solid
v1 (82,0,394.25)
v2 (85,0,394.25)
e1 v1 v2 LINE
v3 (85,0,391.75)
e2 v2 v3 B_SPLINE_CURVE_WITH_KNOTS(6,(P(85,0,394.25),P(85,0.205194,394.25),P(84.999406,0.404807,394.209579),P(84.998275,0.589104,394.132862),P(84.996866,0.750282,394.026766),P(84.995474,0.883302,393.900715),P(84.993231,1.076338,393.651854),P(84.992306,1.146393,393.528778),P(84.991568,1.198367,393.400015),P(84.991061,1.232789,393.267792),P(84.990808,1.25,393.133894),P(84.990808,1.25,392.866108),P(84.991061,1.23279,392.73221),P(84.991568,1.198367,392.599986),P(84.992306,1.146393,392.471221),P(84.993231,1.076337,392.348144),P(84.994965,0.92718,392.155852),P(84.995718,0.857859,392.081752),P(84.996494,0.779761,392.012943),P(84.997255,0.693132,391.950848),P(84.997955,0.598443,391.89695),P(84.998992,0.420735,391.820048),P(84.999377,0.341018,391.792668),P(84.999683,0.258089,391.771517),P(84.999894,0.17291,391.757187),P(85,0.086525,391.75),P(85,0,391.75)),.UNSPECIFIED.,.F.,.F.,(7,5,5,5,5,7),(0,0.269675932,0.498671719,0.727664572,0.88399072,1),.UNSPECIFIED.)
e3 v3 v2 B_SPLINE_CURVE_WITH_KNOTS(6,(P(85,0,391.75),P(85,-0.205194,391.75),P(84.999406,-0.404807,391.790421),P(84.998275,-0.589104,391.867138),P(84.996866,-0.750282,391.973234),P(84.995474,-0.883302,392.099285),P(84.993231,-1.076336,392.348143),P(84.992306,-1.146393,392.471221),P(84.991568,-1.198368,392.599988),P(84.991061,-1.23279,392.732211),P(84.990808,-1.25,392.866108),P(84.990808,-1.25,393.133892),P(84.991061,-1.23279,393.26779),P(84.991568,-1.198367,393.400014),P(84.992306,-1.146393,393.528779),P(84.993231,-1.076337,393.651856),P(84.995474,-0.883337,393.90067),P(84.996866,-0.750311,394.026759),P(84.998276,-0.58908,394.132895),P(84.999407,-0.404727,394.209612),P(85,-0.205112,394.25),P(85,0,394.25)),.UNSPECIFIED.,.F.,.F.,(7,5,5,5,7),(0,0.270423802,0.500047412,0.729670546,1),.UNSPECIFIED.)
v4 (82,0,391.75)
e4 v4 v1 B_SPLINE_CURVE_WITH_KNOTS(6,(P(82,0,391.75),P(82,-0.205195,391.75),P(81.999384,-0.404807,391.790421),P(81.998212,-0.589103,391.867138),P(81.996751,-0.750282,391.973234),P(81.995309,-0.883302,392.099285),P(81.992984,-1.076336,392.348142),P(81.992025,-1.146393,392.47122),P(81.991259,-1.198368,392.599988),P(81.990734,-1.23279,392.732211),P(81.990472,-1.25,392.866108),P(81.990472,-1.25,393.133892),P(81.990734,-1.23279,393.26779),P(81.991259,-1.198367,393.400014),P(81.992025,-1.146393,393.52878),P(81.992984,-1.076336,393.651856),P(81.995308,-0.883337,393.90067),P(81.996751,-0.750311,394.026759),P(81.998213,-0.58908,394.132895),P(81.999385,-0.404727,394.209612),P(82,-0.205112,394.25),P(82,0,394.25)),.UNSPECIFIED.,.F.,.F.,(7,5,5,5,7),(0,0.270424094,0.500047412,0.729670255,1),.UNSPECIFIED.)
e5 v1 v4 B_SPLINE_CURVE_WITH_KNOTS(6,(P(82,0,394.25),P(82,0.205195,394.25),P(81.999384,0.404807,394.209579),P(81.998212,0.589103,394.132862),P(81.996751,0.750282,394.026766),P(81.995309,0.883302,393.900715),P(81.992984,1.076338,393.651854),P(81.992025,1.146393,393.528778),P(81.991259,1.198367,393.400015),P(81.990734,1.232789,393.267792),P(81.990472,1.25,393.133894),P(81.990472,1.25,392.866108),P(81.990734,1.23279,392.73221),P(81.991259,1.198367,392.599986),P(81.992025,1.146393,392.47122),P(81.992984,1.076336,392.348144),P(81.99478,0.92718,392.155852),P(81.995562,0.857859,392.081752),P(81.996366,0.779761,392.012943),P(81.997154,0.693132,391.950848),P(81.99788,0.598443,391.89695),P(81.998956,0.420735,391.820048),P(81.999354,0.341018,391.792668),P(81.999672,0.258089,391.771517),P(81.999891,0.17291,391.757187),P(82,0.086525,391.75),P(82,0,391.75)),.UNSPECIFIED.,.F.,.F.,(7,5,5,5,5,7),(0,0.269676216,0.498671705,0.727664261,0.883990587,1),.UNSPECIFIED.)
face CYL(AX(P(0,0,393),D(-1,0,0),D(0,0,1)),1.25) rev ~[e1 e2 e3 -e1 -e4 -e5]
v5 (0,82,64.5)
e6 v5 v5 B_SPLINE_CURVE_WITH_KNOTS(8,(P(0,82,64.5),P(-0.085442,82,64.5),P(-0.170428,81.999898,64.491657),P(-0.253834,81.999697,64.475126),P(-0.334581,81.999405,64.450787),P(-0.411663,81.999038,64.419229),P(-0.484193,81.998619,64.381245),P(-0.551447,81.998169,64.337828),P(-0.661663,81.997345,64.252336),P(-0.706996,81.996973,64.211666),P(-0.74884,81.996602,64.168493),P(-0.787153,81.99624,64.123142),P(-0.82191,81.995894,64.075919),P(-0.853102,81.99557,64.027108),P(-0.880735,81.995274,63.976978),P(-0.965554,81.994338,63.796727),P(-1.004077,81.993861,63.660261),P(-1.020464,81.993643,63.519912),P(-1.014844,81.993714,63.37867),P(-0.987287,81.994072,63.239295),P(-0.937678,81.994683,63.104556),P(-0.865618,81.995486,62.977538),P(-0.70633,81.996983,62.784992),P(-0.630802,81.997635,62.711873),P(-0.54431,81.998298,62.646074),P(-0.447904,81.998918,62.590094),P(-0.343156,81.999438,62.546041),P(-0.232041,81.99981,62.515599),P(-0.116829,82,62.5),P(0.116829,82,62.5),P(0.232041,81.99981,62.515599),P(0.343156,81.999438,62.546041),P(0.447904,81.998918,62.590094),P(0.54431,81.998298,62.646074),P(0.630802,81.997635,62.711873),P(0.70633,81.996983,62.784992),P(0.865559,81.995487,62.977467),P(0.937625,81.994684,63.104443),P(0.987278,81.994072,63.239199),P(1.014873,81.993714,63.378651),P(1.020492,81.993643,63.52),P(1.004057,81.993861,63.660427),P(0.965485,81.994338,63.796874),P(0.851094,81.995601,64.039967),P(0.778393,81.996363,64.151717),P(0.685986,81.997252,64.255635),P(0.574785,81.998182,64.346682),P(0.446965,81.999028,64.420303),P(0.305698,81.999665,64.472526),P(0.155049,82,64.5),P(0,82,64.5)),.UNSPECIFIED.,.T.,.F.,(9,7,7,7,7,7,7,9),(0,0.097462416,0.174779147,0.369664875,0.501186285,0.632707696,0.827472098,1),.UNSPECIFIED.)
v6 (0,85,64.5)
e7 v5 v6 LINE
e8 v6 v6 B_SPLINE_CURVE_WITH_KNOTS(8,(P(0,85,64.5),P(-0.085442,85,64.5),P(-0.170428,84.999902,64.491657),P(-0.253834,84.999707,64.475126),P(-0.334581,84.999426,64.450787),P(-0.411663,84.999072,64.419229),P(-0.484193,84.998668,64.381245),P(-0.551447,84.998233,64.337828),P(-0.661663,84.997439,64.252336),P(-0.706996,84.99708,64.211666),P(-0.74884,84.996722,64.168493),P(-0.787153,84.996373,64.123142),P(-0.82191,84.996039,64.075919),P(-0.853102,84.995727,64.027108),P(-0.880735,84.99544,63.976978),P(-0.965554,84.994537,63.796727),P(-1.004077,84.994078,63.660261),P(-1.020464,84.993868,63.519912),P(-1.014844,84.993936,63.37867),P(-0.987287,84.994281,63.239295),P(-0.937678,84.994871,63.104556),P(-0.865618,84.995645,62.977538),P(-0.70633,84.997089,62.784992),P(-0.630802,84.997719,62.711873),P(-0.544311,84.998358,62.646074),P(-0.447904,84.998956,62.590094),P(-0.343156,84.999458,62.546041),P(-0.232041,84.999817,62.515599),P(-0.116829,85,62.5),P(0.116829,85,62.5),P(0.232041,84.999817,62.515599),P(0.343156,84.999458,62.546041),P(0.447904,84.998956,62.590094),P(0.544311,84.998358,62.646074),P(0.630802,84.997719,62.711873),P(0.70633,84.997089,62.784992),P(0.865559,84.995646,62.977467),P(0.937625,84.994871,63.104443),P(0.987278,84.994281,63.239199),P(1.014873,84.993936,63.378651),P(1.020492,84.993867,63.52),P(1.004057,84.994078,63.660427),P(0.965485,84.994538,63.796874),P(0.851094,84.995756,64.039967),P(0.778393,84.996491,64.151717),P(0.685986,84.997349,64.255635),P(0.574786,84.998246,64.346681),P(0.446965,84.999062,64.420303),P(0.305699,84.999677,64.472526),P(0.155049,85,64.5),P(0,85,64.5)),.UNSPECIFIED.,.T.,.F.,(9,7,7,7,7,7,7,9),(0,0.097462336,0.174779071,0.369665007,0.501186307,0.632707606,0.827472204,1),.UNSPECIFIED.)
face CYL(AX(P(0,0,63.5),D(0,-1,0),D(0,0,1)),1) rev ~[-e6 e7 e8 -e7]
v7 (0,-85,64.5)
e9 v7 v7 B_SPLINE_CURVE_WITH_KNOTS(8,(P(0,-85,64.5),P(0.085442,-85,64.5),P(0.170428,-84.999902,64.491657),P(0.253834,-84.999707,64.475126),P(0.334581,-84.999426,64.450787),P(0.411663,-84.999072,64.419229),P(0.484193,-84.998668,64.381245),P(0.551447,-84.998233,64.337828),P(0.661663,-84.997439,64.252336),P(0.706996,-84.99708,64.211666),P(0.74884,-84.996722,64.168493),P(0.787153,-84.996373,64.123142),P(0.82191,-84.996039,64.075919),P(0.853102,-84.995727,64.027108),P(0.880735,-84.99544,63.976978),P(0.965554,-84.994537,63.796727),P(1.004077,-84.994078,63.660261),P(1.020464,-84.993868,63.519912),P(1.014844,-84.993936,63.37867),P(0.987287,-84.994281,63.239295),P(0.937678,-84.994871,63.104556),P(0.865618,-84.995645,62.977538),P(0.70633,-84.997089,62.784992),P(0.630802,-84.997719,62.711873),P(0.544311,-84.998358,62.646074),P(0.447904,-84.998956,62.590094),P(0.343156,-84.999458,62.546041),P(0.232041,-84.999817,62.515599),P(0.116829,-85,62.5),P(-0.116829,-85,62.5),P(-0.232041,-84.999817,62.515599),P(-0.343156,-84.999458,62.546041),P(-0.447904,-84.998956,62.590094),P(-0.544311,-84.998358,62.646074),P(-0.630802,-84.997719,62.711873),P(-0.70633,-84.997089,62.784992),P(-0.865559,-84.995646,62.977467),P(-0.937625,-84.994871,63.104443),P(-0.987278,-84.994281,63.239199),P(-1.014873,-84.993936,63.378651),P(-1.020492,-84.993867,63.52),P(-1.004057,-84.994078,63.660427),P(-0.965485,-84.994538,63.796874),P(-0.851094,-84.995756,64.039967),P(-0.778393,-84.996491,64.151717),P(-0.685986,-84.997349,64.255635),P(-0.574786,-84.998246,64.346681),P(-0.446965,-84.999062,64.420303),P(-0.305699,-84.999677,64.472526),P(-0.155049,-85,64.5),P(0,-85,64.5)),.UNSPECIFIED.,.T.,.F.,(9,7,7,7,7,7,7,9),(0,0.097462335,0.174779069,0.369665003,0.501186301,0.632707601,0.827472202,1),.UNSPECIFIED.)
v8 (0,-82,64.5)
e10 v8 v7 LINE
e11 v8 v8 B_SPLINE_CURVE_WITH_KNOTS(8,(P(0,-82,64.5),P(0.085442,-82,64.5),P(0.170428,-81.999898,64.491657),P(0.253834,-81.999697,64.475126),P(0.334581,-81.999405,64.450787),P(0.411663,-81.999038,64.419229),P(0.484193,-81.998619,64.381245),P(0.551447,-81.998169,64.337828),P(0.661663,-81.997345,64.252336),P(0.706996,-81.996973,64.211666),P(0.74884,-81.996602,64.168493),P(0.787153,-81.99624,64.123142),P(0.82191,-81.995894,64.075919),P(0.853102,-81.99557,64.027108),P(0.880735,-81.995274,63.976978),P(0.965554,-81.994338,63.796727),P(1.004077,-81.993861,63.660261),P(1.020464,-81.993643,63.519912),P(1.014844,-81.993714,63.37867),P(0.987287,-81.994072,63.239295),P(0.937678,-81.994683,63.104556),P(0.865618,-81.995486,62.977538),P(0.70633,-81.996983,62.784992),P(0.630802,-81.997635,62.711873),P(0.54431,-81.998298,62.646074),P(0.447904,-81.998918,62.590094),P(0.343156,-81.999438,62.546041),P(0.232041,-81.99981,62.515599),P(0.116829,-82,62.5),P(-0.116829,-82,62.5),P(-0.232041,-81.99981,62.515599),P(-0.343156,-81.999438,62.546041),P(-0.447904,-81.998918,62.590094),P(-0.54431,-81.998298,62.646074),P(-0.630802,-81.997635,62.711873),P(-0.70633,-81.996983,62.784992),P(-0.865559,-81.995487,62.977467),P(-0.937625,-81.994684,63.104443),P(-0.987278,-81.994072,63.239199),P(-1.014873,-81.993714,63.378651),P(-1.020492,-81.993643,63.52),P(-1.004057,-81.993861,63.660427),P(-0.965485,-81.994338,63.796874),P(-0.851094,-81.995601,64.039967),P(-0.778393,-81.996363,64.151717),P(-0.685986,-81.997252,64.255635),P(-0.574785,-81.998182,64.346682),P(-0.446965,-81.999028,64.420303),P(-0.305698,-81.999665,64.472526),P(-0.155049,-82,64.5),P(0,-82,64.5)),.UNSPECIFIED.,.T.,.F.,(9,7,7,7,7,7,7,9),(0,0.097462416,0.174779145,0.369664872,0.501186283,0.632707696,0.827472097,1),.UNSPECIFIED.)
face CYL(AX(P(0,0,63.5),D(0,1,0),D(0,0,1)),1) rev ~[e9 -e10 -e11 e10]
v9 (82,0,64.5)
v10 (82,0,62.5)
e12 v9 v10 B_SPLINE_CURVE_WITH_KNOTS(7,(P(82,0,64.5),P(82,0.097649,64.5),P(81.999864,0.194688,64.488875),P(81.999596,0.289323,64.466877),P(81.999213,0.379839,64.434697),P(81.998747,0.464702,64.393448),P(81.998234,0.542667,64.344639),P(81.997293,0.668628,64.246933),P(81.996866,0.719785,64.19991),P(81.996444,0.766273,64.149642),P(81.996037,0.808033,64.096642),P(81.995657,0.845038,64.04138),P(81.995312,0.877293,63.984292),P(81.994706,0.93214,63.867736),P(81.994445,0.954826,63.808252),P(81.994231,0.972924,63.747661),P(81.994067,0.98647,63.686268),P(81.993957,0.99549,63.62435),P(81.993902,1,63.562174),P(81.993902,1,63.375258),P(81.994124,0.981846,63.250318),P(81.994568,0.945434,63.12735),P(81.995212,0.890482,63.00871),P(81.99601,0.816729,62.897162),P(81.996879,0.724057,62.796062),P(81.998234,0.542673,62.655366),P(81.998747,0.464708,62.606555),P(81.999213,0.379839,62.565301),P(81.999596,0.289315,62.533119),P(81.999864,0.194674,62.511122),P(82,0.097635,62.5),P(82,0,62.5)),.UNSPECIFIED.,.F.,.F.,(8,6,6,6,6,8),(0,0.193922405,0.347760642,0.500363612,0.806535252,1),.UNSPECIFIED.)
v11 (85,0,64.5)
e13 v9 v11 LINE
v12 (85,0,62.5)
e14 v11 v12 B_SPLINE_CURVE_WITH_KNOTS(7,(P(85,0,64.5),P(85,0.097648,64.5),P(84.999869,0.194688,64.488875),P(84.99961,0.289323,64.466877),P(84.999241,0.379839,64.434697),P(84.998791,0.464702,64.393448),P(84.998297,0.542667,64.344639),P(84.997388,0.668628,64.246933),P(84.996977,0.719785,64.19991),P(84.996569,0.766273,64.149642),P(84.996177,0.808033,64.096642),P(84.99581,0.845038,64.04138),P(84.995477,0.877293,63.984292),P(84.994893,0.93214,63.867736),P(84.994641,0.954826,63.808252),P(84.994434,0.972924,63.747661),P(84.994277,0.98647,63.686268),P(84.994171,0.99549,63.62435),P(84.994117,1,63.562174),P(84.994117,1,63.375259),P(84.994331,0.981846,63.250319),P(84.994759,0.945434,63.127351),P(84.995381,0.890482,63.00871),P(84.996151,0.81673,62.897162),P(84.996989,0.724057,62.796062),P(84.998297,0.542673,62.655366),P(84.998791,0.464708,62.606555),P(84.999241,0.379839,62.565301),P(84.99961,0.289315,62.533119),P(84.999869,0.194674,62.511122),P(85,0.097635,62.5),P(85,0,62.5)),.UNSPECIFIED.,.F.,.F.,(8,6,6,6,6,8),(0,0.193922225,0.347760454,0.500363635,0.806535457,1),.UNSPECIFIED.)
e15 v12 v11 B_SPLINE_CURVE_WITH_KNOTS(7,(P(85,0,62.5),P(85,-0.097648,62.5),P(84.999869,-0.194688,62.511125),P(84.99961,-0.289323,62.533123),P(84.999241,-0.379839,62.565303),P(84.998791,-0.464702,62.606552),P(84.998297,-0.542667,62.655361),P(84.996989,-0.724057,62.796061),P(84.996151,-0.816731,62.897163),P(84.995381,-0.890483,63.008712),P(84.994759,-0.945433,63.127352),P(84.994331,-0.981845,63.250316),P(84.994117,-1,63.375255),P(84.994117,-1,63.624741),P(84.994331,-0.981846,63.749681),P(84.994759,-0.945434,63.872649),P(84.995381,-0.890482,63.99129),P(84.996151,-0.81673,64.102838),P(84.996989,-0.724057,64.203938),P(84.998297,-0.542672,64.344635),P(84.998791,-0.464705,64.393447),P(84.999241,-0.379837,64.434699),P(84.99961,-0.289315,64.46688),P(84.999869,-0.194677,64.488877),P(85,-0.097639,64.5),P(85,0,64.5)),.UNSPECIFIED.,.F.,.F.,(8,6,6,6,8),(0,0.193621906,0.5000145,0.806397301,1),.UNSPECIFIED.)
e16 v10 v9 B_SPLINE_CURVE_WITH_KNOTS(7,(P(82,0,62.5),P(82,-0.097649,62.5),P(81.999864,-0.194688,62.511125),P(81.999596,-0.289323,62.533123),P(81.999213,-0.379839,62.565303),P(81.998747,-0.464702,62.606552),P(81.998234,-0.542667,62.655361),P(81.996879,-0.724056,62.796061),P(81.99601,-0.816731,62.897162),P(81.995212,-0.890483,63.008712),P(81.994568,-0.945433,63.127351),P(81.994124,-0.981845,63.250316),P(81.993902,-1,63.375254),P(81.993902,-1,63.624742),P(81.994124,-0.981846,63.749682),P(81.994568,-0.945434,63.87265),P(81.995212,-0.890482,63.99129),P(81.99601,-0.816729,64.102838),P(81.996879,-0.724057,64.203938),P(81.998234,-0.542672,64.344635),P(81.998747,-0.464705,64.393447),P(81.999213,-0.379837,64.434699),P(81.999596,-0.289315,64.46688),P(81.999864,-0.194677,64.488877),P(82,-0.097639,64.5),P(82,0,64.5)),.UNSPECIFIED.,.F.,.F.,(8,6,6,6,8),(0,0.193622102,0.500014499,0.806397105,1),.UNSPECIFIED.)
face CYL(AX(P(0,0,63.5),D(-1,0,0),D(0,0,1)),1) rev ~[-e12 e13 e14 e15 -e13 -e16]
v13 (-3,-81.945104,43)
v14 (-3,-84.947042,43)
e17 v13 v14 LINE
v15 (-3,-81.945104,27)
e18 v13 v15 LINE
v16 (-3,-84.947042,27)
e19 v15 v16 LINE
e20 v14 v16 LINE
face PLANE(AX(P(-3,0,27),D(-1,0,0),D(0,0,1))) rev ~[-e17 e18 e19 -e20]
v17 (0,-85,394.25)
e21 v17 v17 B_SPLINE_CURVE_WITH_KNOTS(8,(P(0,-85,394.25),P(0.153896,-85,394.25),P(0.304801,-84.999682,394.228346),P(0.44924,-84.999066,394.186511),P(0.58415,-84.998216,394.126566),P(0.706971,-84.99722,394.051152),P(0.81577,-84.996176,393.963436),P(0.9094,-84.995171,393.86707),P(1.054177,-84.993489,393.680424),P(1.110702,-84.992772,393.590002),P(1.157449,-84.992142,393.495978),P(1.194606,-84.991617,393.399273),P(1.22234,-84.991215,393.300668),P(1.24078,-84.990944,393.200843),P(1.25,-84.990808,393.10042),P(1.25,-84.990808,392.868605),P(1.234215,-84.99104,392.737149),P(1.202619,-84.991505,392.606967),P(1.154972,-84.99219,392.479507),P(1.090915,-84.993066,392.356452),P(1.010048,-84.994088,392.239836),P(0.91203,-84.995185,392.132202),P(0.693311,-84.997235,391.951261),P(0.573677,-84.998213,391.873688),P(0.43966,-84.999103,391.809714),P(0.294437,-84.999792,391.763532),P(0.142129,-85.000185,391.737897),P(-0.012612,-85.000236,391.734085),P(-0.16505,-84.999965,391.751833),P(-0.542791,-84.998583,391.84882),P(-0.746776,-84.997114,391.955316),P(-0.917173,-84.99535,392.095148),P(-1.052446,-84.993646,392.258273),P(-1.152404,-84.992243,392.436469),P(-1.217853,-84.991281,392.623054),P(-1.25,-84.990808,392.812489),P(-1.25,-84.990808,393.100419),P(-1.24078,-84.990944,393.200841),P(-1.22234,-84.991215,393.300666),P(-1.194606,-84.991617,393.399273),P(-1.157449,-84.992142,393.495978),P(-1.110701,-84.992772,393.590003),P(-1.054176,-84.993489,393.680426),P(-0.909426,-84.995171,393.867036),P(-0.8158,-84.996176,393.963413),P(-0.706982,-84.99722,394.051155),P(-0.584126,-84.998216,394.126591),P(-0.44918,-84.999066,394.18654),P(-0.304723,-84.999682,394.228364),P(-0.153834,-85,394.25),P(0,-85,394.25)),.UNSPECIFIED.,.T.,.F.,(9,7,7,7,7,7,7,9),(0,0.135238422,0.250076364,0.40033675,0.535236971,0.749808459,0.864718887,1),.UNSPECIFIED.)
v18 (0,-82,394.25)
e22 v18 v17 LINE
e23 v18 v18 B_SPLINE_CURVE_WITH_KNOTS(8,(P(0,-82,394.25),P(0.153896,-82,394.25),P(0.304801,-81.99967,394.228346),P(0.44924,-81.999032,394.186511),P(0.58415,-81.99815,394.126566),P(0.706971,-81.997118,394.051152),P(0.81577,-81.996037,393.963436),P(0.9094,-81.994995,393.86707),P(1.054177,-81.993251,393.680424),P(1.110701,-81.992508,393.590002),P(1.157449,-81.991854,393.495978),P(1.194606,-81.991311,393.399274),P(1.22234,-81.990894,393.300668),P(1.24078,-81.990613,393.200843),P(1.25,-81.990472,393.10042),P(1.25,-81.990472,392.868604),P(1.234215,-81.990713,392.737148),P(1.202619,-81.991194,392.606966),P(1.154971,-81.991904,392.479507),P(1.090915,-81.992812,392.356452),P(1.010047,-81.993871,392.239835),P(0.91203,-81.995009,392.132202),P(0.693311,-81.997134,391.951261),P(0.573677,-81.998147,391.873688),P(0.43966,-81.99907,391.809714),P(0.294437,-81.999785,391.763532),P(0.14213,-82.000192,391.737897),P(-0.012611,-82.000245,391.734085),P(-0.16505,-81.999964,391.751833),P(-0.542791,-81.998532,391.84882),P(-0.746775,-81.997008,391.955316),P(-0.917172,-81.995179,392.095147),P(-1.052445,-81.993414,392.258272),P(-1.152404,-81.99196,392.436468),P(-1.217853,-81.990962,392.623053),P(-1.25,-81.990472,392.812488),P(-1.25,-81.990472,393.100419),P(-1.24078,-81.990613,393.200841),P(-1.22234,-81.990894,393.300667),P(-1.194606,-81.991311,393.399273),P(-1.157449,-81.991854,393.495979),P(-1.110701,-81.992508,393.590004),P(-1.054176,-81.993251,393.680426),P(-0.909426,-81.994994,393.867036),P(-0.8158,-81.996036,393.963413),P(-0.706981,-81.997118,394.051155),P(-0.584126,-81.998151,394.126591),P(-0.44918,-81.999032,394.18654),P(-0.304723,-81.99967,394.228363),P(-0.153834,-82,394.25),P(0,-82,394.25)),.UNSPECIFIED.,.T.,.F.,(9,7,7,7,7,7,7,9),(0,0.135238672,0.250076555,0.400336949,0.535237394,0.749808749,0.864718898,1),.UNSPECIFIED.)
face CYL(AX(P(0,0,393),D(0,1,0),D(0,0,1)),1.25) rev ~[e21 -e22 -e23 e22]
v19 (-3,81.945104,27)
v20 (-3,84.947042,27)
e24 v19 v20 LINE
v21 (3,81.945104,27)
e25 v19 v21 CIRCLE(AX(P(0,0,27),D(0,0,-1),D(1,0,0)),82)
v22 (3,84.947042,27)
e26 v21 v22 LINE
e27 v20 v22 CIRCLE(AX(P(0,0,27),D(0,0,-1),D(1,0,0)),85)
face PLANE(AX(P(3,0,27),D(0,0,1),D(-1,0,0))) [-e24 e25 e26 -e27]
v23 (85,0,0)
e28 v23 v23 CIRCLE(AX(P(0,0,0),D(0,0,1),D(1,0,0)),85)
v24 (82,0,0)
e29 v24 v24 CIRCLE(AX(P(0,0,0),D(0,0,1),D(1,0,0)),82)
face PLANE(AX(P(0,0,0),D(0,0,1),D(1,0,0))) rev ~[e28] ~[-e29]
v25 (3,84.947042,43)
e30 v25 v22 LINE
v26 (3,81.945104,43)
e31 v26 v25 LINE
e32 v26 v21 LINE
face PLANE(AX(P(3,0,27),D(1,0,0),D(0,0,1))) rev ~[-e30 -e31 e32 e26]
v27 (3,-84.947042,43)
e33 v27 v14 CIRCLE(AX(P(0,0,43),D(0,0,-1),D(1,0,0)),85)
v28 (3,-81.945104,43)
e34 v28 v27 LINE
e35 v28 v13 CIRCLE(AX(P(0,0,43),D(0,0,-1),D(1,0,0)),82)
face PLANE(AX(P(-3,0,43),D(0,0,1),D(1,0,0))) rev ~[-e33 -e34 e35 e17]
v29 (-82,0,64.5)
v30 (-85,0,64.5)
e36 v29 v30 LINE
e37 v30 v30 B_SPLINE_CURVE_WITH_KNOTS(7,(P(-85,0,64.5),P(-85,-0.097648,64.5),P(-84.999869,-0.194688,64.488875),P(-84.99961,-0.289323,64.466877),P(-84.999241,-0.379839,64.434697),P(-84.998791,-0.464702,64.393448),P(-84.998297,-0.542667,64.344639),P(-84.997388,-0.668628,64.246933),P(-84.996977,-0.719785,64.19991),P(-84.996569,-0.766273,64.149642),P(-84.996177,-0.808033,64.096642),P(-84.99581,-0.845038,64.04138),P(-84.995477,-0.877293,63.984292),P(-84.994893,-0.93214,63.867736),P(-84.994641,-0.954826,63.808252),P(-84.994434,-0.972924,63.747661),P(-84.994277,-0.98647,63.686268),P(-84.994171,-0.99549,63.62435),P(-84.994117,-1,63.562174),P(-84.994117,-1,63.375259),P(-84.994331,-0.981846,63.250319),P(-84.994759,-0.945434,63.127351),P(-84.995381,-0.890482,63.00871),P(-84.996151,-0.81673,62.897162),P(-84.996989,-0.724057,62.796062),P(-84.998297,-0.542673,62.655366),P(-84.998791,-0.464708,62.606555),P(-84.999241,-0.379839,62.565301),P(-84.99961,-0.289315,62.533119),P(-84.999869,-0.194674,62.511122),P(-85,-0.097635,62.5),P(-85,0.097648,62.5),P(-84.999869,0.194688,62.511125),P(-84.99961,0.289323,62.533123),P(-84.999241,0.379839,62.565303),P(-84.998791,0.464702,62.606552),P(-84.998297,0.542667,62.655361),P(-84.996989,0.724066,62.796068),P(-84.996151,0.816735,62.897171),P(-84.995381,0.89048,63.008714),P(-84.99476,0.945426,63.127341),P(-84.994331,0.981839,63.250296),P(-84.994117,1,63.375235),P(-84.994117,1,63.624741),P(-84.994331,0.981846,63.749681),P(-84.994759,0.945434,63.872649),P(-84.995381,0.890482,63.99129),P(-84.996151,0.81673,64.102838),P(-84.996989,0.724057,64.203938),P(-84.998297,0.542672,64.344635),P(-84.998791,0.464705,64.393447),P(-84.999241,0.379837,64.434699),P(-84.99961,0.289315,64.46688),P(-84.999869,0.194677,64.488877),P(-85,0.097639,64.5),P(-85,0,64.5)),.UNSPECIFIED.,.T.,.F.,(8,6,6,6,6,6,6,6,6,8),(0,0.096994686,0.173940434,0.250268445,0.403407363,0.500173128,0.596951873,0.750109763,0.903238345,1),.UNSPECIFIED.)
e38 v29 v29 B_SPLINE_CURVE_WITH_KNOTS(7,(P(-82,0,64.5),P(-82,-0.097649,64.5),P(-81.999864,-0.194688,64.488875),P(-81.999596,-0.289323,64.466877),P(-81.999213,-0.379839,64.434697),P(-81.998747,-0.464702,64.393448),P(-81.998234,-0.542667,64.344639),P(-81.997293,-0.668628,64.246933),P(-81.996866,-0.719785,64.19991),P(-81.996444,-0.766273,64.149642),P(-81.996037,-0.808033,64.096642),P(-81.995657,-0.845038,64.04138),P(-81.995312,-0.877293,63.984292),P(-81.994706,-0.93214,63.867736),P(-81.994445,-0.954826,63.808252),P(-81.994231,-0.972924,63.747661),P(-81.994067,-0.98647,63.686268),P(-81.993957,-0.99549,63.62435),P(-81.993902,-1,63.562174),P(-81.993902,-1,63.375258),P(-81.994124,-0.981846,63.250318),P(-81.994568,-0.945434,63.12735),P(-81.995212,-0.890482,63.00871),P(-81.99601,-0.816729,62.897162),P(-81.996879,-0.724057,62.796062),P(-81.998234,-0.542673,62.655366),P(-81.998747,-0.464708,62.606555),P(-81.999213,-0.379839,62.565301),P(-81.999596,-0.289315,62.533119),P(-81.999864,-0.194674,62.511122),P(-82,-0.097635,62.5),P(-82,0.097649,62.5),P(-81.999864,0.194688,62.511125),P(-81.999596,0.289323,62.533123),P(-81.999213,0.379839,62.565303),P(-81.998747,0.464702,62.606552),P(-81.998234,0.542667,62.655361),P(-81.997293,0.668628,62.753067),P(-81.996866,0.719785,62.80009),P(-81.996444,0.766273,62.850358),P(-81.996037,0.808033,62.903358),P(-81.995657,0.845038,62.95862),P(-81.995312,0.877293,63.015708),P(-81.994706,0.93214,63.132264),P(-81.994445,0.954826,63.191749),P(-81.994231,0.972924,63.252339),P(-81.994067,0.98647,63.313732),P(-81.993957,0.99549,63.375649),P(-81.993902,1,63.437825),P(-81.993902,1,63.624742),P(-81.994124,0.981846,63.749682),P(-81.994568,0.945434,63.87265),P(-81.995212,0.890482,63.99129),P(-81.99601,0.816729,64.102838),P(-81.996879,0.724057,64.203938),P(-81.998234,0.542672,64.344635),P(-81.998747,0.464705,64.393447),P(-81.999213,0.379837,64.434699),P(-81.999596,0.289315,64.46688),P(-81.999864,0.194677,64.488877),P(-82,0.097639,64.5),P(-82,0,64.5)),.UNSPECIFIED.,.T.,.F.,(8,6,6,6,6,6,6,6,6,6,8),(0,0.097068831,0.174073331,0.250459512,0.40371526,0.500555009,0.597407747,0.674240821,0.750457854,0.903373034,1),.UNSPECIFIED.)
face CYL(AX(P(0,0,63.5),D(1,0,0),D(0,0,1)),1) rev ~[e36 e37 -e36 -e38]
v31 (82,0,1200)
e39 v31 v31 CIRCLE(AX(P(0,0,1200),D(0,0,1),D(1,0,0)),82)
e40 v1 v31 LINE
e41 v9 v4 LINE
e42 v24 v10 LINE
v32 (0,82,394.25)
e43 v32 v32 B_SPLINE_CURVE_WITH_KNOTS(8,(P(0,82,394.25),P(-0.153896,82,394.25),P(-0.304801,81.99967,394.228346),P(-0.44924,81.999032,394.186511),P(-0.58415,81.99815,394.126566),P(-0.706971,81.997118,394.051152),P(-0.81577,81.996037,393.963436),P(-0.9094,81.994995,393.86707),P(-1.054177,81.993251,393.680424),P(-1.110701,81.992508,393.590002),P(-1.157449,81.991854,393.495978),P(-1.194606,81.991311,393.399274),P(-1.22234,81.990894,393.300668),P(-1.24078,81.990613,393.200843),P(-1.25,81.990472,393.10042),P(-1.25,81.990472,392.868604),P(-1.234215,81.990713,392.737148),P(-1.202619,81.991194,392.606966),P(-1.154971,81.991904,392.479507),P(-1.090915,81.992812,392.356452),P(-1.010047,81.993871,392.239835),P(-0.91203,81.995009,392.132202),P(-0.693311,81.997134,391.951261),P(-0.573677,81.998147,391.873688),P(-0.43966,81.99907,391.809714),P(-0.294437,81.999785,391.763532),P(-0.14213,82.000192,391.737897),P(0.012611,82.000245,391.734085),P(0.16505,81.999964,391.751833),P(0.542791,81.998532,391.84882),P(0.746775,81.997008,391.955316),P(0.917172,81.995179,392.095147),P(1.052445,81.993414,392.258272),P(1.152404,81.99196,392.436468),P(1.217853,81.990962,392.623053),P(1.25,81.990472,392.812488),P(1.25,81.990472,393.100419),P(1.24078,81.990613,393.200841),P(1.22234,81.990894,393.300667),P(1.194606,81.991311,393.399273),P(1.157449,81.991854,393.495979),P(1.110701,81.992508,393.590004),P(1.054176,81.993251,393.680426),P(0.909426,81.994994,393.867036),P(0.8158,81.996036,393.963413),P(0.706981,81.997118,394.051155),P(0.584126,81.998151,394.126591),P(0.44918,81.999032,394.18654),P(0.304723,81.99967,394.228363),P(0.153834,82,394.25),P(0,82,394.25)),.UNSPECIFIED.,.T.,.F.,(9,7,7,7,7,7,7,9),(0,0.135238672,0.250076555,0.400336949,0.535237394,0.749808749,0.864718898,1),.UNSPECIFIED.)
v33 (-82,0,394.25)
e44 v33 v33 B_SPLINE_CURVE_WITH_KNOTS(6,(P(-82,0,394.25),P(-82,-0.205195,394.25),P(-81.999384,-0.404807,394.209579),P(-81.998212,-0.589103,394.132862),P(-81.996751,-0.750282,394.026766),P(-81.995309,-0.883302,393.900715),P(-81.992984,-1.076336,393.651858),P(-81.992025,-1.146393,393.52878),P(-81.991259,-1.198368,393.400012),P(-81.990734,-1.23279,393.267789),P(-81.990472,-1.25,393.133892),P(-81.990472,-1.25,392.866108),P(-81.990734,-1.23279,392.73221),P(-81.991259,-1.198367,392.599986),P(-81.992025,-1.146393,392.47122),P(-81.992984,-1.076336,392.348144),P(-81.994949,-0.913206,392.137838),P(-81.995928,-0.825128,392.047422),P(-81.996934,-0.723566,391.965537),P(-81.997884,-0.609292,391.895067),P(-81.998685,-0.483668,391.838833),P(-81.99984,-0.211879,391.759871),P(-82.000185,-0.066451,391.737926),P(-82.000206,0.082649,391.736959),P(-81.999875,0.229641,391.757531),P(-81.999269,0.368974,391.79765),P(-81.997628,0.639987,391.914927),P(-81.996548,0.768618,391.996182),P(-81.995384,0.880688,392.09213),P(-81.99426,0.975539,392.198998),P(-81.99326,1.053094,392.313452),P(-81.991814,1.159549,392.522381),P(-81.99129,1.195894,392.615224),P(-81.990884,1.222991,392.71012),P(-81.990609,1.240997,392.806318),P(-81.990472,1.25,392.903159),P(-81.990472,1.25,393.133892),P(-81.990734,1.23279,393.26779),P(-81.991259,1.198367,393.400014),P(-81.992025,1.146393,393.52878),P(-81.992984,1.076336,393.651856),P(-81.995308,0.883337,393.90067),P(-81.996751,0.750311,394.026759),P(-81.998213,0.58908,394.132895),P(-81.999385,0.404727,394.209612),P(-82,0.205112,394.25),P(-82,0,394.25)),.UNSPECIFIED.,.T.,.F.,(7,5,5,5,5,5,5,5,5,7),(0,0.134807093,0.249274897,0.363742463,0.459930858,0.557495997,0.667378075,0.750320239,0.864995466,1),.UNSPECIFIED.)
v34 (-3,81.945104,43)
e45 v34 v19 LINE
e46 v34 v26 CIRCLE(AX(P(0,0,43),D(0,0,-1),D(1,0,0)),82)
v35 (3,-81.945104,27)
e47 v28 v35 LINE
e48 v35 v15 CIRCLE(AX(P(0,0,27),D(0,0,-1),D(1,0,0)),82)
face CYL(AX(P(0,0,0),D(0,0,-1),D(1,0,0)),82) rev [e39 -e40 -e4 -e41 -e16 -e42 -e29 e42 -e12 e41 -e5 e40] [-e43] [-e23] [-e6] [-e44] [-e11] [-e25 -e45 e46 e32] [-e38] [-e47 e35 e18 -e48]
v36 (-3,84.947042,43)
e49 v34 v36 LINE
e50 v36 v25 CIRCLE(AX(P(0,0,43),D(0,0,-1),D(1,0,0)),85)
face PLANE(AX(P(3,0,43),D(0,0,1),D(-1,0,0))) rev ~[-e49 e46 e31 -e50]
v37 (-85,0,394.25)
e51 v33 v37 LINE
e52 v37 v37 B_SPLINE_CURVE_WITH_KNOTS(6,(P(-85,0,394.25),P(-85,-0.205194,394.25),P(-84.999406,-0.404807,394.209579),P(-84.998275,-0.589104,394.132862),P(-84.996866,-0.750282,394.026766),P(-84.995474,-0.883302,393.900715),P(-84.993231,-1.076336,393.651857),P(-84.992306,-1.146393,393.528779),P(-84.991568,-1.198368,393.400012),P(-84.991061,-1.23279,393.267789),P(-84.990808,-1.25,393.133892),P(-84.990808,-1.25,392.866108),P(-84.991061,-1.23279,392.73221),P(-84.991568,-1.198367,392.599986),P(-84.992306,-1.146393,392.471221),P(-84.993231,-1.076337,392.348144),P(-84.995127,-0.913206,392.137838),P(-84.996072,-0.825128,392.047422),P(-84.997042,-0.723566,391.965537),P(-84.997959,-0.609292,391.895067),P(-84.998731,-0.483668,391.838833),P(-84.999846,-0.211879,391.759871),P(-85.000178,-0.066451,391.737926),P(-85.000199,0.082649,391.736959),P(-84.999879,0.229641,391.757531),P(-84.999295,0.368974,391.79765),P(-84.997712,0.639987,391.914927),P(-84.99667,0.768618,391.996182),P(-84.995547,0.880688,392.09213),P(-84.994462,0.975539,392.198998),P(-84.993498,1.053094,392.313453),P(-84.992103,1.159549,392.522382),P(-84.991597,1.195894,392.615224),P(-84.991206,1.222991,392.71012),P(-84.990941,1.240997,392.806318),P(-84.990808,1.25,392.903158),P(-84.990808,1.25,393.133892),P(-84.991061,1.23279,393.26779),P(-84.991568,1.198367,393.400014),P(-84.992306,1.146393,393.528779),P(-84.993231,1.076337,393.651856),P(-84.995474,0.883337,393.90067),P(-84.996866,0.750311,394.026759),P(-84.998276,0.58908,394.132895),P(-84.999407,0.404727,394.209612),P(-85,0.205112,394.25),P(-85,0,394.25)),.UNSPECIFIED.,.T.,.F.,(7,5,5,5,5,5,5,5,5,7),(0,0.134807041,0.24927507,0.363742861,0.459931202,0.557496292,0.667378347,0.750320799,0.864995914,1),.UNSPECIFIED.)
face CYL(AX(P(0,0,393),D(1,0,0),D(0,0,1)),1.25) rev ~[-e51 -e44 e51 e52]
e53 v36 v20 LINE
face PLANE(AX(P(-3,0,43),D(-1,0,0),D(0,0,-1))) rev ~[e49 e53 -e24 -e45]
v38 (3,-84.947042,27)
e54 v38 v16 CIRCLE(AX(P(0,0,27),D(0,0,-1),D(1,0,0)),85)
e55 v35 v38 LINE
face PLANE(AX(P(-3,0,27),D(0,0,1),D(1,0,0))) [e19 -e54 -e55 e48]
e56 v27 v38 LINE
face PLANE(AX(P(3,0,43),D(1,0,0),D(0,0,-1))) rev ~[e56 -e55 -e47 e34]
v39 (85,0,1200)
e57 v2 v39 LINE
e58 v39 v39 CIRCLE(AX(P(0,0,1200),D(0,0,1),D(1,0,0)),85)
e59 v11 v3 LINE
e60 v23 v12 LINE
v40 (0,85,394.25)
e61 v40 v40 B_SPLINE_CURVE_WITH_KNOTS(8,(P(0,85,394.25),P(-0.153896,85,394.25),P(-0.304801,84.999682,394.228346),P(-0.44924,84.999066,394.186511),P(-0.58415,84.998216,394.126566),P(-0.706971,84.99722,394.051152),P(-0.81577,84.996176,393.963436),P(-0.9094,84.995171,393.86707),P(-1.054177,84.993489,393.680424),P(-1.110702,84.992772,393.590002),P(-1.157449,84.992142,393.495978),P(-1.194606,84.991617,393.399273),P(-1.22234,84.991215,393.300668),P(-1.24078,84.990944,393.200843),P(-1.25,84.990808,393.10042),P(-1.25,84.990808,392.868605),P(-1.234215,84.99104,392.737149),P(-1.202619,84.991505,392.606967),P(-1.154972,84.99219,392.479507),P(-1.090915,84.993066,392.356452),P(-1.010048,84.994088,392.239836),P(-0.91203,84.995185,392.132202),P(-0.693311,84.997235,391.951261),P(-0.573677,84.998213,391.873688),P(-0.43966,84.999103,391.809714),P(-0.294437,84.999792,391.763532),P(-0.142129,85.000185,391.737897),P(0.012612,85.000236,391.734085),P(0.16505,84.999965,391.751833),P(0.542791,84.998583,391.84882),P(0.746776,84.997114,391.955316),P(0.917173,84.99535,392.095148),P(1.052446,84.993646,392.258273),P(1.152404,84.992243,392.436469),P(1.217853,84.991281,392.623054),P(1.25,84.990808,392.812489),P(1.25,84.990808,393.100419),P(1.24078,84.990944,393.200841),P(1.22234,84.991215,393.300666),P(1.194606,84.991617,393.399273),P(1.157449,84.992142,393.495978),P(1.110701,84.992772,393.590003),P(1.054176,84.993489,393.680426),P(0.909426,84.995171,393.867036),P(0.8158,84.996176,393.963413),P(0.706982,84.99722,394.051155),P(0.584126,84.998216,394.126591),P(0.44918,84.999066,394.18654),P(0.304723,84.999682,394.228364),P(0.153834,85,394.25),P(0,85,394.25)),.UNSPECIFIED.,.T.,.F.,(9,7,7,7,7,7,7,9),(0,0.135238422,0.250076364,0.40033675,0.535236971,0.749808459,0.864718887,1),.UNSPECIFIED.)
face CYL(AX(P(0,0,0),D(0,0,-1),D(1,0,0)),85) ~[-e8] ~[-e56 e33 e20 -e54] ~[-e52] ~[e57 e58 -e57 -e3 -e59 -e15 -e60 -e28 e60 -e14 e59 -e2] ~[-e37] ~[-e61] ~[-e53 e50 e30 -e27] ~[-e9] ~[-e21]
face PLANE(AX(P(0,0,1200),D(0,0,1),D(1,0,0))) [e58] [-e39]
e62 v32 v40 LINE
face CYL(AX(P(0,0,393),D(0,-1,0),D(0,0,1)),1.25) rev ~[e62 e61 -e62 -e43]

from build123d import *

# Parameters (mm, degrees)
SKETCH1_R           = 85
SKETCH1_R_2         = 82
BOSS_EXTRUDE1_DEPTH = 1200
SKETCH2_R           = 1.25
CUT_EXTRUDE1_DEPTH  = 900
CIRPATTERN1_COUNT   = 4
SKETCH3_W           = 6
SKETCH3_H           = 6
SKETCH3_H_2         = 10
CUT_EXTRUDE2_DEPTH  = 104
CIRPATTERN2_COUNT   = 2
SKETCH5_R           = 1
CUT_EXTRUDE3_DEPTH  = 104
CIRPATTERN3_COUNT   = 4


with BuildPart() as part:
    # Sketch1 → Boss-Extrude1 (new body)
    with BuildSketch(Plane.XY):
        Circle(SKETCH1_R)
        Circle(SKETCH1_R_2, mode=Mode.SUBTRACT)
    extrude(amount=BOSS_EXTRUDE1_DEPTH)

    # Sketch2 → Cut-Extrude1 (cut)
    with BuildSketch(Plane(origin=(0, 0, 0), x_dir=(1, 0, 0), z_dir=(0, 1, 0))):
        with Locations(Location((0, -393, 0), (0, 0, 270))):
            Circle(SKETCH2_R)
    cut_extrude1 = extrude(amount=-CUT_EXTRUDE1_DEPTH, mode=Mode.SUBTRACT)

    # CirPattern1: Cut-Extrude1 ×4 about axis
    cirpattern1_axis = Axis((0, 0, 0), (0, 0, 1))
    for i in range(1, CIRPATTERN1_COUNT):
        add(cut_extrude1.rotate(cirpattern1_axis, i * 360 / CIRPATTERN1_COUNT), mode=Mode.SUBTRACT)

    # Sketch3 → Cut-Extrude2 (cut)
    with BuildSketch(Plane(origin=(0, 0, 0), x_dir=(1, 0, 0), z_dir=(0, 1, 0))):
        with Locations((0, -30)):
            Rectangle(SKETCH3_W, SKETCH3_H)
        with Locations((0, -38)):
            Rectangle(SKETCH3_W, SKETCH3_H_2)
    cut_extrude2 = extrude(amount=-CUT_EXTRUDE2_DEPTH, mode=Mode.SUBTRACT)

    # CirPattern2: Cut-Extrude2 ×2 about axis
    cirpattern2_axis = Axis((0, 0, 0), (0, 0, 1))
    for i in range(1, CIRPATTERN2_COUNT):
        add(cut_extrude2.rotate(cirpattern2_axis, i * 360 / CIRPATTERN2_COUNT), mode=Mode.SUBTRACT)

    # Sketch5 → Cut-Extrude3 (cut)
    with BuildSketch(Plane(origin=(0, 0, 0), x_dir=(1, 0, 0), z_dir=(0, 1, 0))):
        with Locations(Location((0, -63.5, 0), (0, 0, 270))):
            Circle(SKETCH5_R)
    cut_extrude3 = extrude(amount=-CUT_EXTRUDE3_DEPTH, mode=Mode.SUBTRACT)

    # CirPattern3: Cut-Extrude3 ×4 about axis
    cirpattern3_axis = Axis((0, 0, 0), (0, 0, 1))
    for i in range(1, CIRPATTERN3_COUNT):
        add(cut_extrude3.rotate(cirpattern3_axis, i * 360 / CIRPATTERN3_COUNT), mode=Mode.SUBTRACT)


solid = part.part
